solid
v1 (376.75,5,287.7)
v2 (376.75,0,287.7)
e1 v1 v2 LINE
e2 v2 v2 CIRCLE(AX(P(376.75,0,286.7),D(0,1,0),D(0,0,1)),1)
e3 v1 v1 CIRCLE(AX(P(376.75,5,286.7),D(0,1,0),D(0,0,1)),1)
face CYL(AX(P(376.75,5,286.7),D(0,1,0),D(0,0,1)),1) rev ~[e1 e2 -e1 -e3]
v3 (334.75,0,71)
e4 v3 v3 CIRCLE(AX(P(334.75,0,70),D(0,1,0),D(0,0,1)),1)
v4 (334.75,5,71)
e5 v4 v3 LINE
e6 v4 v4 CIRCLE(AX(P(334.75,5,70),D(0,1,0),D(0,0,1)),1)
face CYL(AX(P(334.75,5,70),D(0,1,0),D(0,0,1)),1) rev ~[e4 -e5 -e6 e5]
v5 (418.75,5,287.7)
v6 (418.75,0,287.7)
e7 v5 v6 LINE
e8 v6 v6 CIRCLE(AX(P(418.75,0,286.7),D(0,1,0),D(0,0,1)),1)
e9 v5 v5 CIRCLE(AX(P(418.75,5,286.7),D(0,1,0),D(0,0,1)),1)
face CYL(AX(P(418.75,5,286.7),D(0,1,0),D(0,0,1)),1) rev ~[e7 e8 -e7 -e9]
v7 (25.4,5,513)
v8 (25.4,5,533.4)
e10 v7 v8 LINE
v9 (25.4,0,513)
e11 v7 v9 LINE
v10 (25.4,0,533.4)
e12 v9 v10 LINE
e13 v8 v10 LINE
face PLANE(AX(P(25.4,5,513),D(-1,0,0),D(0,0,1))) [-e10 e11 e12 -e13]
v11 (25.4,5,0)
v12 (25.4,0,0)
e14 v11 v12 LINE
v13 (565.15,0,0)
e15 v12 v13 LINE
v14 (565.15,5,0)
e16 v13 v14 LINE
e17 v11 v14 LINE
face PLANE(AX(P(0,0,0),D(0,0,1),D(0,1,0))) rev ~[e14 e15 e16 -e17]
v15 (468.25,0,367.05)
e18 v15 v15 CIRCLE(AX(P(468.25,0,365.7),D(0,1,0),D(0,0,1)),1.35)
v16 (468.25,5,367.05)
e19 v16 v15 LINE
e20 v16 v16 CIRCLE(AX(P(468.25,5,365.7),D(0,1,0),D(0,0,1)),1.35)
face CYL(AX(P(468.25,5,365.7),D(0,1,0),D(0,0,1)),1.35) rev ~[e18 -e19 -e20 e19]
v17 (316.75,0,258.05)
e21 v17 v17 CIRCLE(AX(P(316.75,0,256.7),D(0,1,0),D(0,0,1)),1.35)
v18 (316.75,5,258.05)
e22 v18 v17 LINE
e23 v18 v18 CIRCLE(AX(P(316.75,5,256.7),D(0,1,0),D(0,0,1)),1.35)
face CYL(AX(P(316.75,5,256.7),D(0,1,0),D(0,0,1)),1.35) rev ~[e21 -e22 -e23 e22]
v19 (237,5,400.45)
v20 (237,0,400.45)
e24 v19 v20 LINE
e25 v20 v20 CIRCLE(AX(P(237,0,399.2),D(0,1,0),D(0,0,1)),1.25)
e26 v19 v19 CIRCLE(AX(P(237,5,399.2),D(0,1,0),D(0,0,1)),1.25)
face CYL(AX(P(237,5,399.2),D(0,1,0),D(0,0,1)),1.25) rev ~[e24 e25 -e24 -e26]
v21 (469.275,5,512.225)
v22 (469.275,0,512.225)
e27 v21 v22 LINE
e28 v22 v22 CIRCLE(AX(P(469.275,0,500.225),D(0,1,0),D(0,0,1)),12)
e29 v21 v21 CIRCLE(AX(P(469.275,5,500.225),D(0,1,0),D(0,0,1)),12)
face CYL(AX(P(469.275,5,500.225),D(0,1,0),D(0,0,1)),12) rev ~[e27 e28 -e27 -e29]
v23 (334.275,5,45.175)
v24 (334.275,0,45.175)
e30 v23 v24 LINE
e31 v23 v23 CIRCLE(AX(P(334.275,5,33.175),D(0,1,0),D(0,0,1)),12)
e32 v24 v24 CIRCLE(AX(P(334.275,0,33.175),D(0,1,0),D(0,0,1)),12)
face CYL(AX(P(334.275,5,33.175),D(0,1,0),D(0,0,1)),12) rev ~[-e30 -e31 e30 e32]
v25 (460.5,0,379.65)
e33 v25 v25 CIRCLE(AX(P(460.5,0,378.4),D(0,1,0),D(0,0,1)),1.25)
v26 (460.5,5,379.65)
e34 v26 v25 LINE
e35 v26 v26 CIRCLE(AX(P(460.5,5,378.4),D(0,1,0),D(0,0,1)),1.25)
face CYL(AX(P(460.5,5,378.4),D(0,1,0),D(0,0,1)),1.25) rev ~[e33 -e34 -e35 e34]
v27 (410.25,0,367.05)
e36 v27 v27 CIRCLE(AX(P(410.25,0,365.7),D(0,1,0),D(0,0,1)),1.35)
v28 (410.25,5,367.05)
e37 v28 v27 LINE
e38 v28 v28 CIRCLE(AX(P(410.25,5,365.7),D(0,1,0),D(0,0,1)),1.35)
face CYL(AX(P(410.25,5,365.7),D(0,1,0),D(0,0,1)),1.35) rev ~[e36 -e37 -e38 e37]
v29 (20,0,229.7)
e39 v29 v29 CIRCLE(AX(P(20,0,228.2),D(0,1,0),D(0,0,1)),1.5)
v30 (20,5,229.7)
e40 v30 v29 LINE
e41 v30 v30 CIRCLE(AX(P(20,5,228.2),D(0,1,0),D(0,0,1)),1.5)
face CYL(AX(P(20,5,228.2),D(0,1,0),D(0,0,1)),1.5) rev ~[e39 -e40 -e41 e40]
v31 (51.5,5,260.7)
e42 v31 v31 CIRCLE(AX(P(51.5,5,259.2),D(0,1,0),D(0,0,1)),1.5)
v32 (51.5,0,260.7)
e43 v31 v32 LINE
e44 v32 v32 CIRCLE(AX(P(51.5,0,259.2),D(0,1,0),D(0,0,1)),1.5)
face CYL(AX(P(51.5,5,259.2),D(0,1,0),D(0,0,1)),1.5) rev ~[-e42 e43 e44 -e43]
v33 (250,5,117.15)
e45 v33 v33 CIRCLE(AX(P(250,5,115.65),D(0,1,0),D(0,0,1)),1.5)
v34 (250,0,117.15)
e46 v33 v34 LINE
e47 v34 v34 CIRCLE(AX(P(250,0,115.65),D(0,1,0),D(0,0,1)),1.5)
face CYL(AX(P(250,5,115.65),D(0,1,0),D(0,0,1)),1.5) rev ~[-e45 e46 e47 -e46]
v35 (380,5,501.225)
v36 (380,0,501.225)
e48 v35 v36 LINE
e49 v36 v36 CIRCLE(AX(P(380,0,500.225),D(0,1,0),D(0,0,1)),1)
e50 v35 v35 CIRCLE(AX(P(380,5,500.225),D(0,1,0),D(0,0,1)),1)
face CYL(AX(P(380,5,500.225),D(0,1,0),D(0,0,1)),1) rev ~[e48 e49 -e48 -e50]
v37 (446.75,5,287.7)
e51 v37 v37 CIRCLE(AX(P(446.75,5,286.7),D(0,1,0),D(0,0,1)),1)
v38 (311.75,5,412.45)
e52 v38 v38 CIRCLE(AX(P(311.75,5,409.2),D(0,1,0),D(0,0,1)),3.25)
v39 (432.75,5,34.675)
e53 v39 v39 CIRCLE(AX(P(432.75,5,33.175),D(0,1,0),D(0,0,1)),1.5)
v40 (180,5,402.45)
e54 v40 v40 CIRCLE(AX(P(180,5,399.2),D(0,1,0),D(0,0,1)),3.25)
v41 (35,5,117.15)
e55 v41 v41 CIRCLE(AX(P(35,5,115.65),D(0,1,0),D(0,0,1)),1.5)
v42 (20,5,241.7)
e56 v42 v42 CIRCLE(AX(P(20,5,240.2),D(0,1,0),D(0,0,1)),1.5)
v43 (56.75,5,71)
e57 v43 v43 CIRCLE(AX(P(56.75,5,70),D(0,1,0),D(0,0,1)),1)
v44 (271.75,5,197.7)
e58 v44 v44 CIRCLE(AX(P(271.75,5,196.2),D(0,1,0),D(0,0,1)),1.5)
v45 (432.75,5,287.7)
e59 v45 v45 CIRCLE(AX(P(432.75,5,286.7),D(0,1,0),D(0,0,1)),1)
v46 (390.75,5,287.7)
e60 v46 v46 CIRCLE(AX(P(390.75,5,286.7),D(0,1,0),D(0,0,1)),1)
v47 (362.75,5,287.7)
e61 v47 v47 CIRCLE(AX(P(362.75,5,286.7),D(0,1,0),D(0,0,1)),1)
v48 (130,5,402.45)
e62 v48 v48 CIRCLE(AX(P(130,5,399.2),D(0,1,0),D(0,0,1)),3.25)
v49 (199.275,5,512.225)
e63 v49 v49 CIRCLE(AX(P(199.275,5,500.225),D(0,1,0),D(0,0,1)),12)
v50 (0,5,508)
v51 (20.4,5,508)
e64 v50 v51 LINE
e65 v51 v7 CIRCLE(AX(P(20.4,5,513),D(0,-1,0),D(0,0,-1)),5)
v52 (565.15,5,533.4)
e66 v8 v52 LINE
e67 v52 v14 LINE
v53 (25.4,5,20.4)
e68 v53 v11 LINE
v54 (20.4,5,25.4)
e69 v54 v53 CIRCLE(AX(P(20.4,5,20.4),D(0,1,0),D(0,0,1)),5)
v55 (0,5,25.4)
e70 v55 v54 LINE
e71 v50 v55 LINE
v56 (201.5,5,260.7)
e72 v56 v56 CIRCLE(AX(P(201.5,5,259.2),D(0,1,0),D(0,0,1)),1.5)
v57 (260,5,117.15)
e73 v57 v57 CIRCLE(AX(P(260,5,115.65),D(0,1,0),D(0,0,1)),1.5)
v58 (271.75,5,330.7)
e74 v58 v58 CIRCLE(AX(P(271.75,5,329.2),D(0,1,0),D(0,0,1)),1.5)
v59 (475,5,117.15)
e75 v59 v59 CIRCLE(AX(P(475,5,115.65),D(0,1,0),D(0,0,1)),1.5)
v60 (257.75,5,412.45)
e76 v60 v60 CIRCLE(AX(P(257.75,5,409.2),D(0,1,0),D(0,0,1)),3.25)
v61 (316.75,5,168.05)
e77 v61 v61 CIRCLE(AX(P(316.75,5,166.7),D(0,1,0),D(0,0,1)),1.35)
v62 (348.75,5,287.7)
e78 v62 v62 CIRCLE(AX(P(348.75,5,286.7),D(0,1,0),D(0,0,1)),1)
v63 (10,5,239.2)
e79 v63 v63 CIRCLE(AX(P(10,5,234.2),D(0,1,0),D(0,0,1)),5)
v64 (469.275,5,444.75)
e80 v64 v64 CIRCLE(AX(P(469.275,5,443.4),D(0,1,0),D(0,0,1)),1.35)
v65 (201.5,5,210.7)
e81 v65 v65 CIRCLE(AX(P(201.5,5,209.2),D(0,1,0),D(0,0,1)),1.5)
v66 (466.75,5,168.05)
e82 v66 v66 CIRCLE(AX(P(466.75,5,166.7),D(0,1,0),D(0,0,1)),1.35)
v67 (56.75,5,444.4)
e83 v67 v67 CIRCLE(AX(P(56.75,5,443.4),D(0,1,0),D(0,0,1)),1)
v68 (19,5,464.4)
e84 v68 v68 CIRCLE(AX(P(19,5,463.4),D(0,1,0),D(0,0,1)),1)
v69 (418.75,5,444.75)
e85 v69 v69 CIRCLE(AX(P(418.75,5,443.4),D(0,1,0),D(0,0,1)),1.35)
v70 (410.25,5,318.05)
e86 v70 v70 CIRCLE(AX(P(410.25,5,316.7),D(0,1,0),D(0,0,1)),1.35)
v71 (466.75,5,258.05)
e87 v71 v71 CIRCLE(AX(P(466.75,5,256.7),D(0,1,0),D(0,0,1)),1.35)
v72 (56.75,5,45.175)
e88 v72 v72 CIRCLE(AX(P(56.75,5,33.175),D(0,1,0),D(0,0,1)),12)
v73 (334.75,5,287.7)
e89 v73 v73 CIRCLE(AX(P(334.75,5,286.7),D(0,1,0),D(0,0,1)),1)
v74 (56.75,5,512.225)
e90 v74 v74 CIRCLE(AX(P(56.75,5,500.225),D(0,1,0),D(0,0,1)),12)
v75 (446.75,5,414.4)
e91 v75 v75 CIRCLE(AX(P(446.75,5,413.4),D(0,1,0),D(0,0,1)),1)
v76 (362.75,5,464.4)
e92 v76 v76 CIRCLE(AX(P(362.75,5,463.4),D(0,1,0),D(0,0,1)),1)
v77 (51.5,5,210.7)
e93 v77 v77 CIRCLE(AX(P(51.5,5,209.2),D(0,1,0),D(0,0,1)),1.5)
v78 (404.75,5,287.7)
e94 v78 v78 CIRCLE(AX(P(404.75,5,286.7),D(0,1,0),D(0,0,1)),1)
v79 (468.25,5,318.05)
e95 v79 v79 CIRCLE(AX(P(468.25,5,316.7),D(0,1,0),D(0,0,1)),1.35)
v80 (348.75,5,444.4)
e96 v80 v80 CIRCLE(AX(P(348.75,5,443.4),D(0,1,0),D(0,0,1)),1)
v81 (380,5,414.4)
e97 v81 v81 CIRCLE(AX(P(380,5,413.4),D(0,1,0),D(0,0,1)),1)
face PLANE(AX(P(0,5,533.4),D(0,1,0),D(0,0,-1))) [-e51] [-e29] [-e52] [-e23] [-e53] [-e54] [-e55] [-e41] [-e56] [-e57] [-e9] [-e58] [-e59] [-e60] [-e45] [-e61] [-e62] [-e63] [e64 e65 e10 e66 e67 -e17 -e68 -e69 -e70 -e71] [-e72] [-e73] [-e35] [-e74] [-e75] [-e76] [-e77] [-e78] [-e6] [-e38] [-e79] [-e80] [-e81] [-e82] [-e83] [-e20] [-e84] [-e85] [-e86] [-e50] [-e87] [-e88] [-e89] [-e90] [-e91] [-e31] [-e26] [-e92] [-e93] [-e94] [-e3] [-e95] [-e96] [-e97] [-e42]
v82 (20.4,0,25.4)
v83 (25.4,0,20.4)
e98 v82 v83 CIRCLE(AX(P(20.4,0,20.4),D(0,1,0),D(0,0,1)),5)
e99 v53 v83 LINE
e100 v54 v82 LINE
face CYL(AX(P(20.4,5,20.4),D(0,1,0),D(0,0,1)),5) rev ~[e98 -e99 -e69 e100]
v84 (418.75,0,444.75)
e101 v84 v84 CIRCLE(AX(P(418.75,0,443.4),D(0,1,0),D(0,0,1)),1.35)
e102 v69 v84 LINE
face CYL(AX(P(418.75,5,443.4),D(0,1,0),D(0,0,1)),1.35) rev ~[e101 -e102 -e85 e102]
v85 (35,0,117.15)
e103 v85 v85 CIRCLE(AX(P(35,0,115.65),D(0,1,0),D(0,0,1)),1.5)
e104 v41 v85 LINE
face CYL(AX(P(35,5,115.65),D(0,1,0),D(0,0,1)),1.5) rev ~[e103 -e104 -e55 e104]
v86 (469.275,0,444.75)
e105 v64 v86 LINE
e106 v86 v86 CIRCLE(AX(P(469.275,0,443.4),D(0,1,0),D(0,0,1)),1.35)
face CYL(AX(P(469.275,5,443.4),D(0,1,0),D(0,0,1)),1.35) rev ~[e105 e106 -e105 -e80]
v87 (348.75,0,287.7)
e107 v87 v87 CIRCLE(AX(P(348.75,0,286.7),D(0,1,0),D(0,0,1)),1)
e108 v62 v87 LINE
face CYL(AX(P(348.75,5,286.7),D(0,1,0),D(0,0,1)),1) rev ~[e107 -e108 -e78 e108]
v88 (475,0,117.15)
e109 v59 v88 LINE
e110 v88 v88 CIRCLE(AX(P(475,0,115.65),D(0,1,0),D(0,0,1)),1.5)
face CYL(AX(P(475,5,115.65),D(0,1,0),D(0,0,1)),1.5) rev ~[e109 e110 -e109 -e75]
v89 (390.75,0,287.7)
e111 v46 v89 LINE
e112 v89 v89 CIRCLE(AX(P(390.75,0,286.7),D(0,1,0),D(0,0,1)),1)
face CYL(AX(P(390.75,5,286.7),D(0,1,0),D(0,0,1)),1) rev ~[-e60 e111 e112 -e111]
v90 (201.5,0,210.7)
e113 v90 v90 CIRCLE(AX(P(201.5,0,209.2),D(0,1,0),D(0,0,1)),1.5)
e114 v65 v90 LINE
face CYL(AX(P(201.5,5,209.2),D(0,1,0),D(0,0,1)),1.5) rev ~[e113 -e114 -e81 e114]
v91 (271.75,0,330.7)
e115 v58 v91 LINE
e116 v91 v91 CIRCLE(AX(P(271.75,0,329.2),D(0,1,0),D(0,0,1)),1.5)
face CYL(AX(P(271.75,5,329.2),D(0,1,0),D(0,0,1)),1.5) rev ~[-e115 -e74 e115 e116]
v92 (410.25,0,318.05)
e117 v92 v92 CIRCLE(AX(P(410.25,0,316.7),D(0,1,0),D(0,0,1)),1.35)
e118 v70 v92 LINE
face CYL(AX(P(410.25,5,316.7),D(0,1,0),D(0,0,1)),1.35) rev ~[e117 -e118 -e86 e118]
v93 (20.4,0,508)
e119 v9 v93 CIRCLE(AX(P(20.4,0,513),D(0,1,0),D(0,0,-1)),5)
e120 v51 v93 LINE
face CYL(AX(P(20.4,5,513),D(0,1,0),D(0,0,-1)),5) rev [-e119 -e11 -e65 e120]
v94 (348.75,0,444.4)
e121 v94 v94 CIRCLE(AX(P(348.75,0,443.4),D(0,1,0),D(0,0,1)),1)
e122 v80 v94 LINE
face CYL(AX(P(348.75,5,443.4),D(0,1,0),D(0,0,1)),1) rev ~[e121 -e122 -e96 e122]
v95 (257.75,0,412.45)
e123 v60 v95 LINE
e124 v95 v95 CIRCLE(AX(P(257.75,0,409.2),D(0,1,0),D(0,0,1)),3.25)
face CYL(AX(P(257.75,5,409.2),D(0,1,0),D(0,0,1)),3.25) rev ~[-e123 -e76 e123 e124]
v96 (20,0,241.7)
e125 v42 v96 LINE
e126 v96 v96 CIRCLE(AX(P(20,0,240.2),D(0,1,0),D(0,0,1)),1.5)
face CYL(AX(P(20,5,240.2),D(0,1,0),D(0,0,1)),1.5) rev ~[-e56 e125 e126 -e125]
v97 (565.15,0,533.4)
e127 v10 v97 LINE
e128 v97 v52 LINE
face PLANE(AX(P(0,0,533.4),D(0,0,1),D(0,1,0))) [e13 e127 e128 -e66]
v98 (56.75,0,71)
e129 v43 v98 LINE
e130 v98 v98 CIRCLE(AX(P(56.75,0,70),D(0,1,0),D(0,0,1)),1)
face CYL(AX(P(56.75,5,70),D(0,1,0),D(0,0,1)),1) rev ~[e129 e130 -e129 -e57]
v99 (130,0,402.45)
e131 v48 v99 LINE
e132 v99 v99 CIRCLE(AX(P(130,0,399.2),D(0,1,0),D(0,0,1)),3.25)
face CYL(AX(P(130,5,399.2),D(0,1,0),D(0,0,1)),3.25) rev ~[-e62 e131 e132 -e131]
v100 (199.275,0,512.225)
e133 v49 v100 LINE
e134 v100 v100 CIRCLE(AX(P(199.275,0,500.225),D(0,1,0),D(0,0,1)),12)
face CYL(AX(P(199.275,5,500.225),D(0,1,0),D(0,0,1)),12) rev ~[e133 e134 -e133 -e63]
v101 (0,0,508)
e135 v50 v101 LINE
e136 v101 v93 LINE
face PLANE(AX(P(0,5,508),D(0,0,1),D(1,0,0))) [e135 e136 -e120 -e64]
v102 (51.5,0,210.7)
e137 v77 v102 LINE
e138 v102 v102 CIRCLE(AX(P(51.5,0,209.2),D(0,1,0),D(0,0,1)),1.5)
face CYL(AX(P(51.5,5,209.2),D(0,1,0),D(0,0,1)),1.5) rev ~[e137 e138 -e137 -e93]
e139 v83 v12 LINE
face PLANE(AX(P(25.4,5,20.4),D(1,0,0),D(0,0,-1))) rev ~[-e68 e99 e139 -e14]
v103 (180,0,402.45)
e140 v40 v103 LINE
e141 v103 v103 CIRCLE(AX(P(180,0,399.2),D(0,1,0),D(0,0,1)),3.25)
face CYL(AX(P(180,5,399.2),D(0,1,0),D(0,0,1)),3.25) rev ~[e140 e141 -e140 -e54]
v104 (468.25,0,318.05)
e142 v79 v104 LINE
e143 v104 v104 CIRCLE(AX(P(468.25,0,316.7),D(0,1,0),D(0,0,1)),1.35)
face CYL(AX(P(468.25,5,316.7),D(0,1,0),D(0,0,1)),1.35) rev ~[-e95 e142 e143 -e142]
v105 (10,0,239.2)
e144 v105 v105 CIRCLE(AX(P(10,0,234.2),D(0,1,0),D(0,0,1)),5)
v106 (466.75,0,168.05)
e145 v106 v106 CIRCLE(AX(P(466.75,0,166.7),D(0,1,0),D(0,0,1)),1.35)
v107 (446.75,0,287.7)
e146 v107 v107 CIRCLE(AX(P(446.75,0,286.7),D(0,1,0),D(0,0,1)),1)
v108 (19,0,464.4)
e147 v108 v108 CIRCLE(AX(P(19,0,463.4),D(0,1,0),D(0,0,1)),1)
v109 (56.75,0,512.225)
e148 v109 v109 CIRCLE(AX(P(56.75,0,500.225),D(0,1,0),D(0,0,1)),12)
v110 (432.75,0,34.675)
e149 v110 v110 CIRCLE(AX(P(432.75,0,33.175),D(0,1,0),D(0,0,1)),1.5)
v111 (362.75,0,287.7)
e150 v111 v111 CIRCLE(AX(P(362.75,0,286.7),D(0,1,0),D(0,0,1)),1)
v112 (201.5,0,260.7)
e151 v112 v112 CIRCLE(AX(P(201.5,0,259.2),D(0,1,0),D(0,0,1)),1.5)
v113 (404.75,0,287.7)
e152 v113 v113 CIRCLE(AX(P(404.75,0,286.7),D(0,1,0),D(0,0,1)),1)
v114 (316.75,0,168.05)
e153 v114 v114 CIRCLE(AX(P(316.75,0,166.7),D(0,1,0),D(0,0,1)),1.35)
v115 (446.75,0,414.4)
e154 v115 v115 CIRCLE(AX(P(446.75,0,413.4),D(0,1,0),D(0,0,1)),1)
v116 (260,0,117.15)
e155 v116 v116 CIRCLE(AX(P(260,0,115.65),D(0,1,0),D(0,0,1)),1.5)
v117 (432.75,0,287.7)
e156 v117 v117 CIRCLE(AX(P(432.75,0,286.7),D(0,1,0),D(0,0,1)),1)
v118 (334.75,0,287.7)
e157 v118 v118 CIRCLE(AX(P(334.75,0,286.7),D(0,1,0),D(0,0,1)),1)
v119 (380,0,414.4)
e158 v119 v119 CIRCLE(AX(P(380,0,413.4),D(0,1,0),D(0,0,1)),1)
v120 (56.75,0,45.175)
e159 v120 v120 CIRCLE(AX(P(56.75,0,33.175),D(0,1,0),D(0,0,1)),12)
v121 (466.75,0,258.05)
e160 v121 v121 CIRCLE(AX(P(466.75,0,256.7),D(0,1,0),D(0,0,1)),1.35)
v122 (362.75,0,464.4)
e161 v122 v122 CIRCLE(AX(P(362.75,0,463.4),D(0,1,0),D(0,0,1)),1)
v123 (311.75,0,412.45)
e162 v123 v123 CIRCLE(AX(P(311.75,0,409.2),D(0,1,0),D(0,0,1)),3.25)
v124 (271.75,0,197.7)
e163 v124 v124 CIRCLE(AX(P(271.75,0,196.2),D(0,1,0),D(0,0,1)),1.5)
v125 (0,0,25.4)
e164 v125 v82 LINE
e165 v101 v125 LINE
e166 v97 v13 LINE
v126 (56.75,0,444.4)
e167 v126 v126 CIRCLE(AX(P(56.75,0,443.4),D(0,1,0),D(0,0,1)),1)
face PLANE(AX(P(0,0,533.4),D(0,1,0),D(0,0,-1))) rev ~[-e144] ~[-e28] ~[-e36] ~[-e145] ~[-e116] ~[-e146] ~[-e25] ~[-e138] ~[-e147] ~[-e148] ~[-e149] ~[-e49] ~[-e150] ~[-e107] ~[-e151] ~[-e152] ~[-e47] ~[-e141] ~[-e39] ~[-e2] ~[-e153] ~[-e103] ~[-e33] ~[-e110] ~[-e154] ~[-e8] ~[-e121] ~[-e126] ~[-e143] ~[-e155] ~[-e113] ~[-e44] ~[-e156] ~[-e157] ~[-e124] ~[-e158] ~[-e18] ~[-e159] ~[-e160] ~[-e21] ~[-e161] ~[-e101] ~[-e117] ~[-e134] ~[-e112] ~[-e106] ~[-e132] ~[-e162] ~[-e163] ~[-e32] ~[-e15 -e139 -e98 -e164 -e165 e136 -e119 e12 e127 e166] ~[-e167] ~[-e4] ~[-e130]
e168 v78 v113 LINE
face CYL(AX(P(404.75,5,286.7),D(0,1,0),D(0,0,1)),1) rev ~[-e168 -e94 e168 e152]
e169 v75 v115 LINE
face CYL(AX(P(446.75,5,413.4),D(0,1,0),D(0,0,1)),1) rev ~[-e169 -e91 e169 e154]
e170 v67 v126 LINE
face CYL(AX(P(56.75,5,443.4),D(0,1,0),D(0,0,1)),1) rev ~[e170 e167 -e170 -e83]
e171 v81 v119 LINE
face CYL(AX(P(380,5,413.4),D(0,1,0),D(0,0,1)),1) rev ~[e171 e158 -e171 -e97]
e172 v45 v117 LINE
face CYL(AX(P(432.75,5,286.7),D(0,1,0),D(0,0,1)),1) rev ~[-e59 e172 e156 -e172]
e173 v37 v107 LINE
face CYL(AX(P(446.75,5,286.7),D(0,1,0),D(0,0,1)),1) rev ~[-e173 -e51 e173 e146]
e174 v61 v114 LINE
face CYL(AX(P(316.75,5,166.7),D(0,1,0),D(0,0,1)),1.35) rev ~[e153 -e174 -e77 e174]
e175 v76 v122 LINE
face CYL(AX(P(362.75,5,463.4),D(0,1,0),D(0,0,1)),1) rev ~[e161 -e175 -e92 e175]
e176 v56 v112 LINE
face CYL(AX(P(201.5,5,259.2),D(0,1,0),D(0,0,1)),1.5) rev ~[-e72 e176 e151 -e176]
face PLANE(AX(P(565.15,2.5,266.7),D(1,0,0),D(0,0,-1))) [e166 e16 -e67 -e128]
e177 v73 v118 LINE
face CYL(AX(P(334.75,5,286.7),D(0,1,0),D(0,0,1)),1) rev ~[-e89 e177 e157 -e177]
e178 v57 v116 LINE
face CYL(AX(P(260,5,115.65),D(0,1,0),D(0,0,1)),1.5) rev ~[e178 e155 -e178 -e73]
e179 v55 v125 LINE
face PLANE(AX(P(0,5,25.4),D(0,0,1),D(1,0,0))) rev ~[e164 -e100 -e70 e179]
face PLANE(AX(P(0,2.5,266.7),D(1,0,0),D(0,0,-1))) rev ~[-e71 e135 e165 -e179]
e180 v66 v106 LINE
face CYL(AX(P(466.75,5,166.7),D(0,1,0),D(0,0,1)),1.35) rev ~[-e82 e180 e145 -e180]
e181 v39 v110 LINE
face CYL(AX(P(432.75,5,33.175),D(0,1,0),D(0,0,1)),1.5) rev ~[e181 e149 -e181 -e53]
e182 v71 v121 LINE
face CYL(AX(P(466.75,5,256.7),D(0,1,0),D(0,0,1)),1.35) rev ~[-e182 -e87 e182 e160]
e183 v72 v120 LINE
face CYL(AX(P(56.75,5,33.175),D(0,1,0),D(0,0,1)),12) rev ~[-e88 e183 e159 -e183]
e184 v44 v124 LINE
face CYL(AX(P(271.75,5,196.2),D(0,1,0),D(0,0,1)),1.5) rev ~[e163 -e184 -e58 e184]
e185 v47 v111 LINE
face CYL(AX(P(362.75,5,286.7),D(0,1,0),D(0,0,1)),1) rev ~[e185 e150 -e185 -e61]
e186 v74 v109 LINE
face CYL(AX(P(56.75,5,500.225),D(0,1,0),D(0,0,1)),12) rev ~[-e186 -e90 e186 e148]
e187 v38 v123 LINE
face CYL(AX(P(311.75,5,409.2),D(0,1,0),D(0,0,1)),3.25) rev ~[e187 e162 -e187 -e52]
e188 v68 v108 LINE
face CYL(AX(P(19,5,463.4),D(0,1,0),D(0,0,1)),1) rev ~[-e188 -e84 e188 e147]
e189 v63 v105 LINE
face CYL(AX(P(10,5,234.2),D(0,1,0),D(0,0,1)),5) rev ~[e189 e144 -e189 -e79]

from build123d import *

# Parameters (mm, degrees)
SKETCH1_W                                     = 533.4
SKETCH1_H                                     = 5
BOSS_EXTRUDE1_DEPTH                           = 565.15
BOTTHOMHOLES_SKETCH2_R                        = 12
BOTTOMSTEPPERHOLES_CUT_EXTRUDE1_DEPTH         = 778.132602906
BOTTOMPSUHOLESSKETCH2_R                       = 1.5
BOTTOMPSUHOLESSKETCH2_R_2                     = 3.25
BOTTOMPSUHOLESCUT_EXTRUDE1_DEPTH              = 778.132602906
OCTOPUSHOLESSKETCH2_R                         = 1.35
OCTOPUSMOUNTHOLESCUT_EXTRUDE1_DEPTH           = 778.132602906
POWRCABLEGUIDEMOUNTHOLESSKETCH2_R             = 1.5
POWERCABLEGUIDEMOUNTHOLESCUT_EXTRUDE1_DEPTH   = 778.132602906
RPIHOLESSKETCH2_R                             = 1.35
RPIMOUNTHOLESCUT_EXTRUDE1_DEPTH               = 778.132602906
DRAGCHAINANDCABLEGUIDEHOLESSKETCH2_R          = 1.5
DRAGCHAINANDCABLEGUIDEHOLESSKETCH2_R_2        = 5
CRAGCHAINANDCABLEGUIDEHOLESCUT_EXTRUDE1_DEPTH = 778.132602906
SKETCH2_R                                     = 1
OCTOPUSROUTING_HOLESCUT_EXTRUDE1_DEPTH        = 778.132602906
PIPOWERANDSSRCONTROLSKETCH3_R                 = 1.25
PIPOWERANDSSRCONTROLCUTS_EXTRUDE1_DEPTH       = 778.132602906
CORNERCABLEKNOTCHCUT_EXTRUDE1_DEPTH           = 778.132602906
Z1_PATHSSKETCH4_R                             = 1.5
Z1_PATGSCUT_EXTRUDE1_DEPTH                    = 778.132602906
Z2PATHSSKETCH5_R                              = 1
Z2PATHSCUT_EXTRUDE2_DEPTH                     = 778.132602906
ZPATHSSKETCH4_R                               = 1.35
ZPATHSCUT_EXTRUDE1_DEPTH                      = 778.132602906
LEFTGANTRYANDEXTRUDERPATHSSKETCH4_R           = 1
LEFTGANTRYANDEXTRUDERPATHSCUT_EXTRUDE1_DEPTH  = 778.132602906
RIGHTGANTRYPATHSSKETCH5_R                     = 1
RIGHTGANTRYPATHSCUT_EXTRUDE2_DEPTH            = 778.132602906


with BuildPart() as part:
    # Sketch1 → Boss-Extrude1 (new body)
    with BuildSketch(Plane(origin=(0, 0, 0), x_dir=(0, 0, -1), z_dir=(1, 0, 0))):
        with Locations((-266.7, 2.5)):
            Rectangle(SKETCH1_W, SKETCH1_H)
    extrude(amount=BOSS_EXTRUDE1_DEPTH)

    # BotthomHoles-Sketch2 → BottomStepperHoles-Cut-Extrude1 (cut, through all)
    with BuildSketch(Plane(origin=(0, 5, 0), x_dir=(1, 0, 0), z_dir=(0, 1, 0))):
        with Locations(Location((334.275, -33.175, 0), (0, 0, 270))):
            Circle(BOTTHOMHOLES_SKETCH2_R)
        with Locations(Location((199.275, -500.225, 0), (0, 0, 270))):
            Circle(BOTTHOMHOLES_SKETCH2_R)
        with Locations(Location((469.275, -500.225, 0), (0, 0, 270))):
            Circle(BOTTHOMHOLES_SKETCH2_R)
        with Locations(Location((56.75, -500.225, 0), (0, 0, 270))):
            Circle(BOTTHOMHOLES_SKETCH2_R)
        with Locations(Location((56.75, -33.175, 0), (0, 0, 270))):
            Circle(BOTTHOMHOLES_SKETCH2_R)
    extrude(amount=-BOTTOMSTEPPERHOLES_CUT_EXTRUDE1_DEPTH, mode=Mode.SUBTRACT)

    # BottomPSUHolesSketch2 → BottomPSUHolesCut-Extrude1 (cut, through all)
    with BuildSketch(Plane(origin=(0, 5, 0), x_dir=(1, 0, 0), z_dir=(0, 1, 0))):
        with Locations(Location((201.5, -209.2, 0), (0, 0, 270))):
            Circle(BOTTOMPSUHOLESSKETCH2_R)
        with Locations(Location((201.5, -259.2, 0), (0, 0, 270))):
            Circle(BOTTOMPSUHOLESSKETCH2_R)
        with Locations(Location((51.5, -209.2, 0), (0, 0, 270))):
            Circle(BOTTOMPSUHOLESSKETCH2_R)
        with Locations(Location((51.5, -259.2, 0), (0, 0, 270))):
            Circle(BOTTOMPSUHOLESSKETCH2_R)
        with Locations(Location((180, -399.2, 0), (0, 0, 270))):
            Circle(BOTTOMPSUHOLESSKETCH2_R_2)
        with Locations(Location((130, -399.2, 0), (0, 0, 270))):
            Circle(BOTTOMPSUHOLESSKETCH2_R_2)
        with Locations(Location((257.75, -409.2, 0), (0, 0, 270))):
            Circle(BOTTOMPSUHOLESSKETCH2_R_2)
        with Locations(Location((311.75, -409.2, 0), (0, 0, 270))):
            Circle(BOTTOMPSUHOLESSKETCH2_R_2)
    extrude(amount=-BOTTOMPSUHOLESCUT_EXTRUDE1_DEPTH, mode=Mode.SUBTRACT)

    # OctopusHolesSketch2 → OctopusMountHolesCut-Extrude1 (cut, through all)
    with BuildSketch(Plane(origin=(0, 5, 0), x_dir=(1, 0, 0), z_dir=(0, 1, 0))):
        with Locations(Location((316.75, -256.7, 0), (0, 0, 270))):
            Circle(OCTOPUSHOLESSKETCH2_R)
        with Locations(Location((466.75, -256.7, 0), (0, 0, 270))):
            Circle(OCTOPUSHOLESSKETCH2_R)
        with Locations(Location((316.75, -166.7, 0), (0, 0, 270))):
            Circle(OCTOPUSHOLESSKETCH2_R)
        with Locations(Location((466.75, -166.7, 0), (0, 0, 270))):
            Circle(OCTOPUSHOLESSKETCH2_R)
    extrude(amount=-OCTOPUSMOUNTHOLESCUT_EXTRUDE1_DEPTH, mode=Mode.SUBTRACT)

    # PowrCableGuideMountHolesSketch2 → PowerCableGuideMountHolesCut-Extrude1 (cut, through all)
    with BuildSketch(Plane(origin=(0, 5, 0), x_dir=(1, 0, 0), z_dir=(0, 1, 0))):
        with Locations(Location((271.75, -329.2, 0), (0, 0, 270))):
            Circle(POWRCABLEGUIDEMOUNTHOLESSKETCH2_R)
        with Locations(Location((271.75, -196.2, 0), (0, 0, 270))):
            Circle(POWRCABLEGUIDEMOUNTHOLESSKETCH2_R)
    extrude(amount=-POWERCABLEGUIDEMOUNTHOLESCUT_EXTRUDE1_DEPTH, mode=Mode.SUBTRACT)

    # RPIHolesSketch2 → RPIMountHolesCut-Extrude1 (cut, through all)
    with BuildSketch(Plane(origin=(0, 5, 0), x_dir=(1, 0, 0), z_dir=(0, 1, 0))):
        with Locations(Location((468.25, -316.7, 0), (0, 0, 270))):
            Circle(RPIHOLESSKETCH2_R)
        with Locations(Location((468.25, -365.7, 0), (0, 0, 270))):
            Circle(RPIHOLESSKETCH2_R)
        with Locations(Location((410.25, -316.7, 0), (0, 0, 270))):
            Circle(RPIHOLESSKETCH2_R)
        with Locations(Location((410.25, -365.7, 0), (0, 0, 270))):
            Circle(RPIHOLESSKETCH2_R)
    extrude(amount=-RPIMOUNTHOLESCUT_EXTRUDE1_DEPTH, mode=Mode.SUBTRACT)

    # DragChainAndCableGuideHolesSketch2 → CragChainAndCableGuideHolesCut-Extrude1 (cut, through all)
    with BuildSketch(Plane(origin=(0, 5, 0), x_dir=(1, 0, 0), z_dir=(0, 1, 0))):
        with Locations(Location((260, -115.65, 0), (0, 0, 270))):
            Circle(DRAGCHAINANDCABLEGUIDEHOLESSKETCH2_R)
        with Locations(Location((10, -234.2, 0), (0, 0, 270))):
            Circle(DRAGCHAINANDCABLEGUIDEHOLESSKETCH2_R_2)
        with Locations(Location((475, -115.65, 0), (0, 0, 270))):
            Circle(DRAGCHAINANDCABLEGUIDEHOLESSKETCH2_R)
        with Locations(Location((250, -115.65, 0), (0, 0, 270))):
            Circle(DRAGCHAINANDCABLEGUIDEHOLESSKETCH2_R)
        with Locations(Location((35, -115.65, 0), (0, 0, 270))):
            Circle(DRAGCHAINANDCABLEGUIDEHOLESSKETCH2_R)
        with Locations(Location((20, -240.2, 0), (0, 0, 270))):
            Circle(DRAGCHAINANDCABLEGUIDEHOLESSKETCH2_R)
        with Locations(Location((20, -228.2, 0), (0, 0, 270))):
            Circle(DRAGCHAINANDCABLEGUIDEHOLESSKETCH2_R)
    extrude(amount=-CRAGCHAINANDCABLEGUIDEHOLESCUT_EXTRUDE1_DEPTH, mode=Mode.SUBTRACT)

    # Sketch2 → OctopusRouting holesCut-Extrude1 (cut, through all)
    with BuildSketch(Plane(origin=(0, 5, 0), x_dir=(1, 0, 0), z_dir=(0, 1, 0))):
        with Locations(Location((334.75, -286.7, 0), (0, 0, 270))):
            Circle(SKETCH2_R)
        with Locations(Location((348.75, -286.7, 0), (0, 0, 270))):
            Circle(SKETCH2_R)
        with Locations(Location((362.75, -286.7, 0), (0, 0, 270))):
            Circle(SKETCH2_R)
        with Locations(Location((376.75, -286.7, 0), (0, 0, 270))):
            Circle(SKETCH2_R)
        with Locations(Location((390.75, -286.7, 0), (0, 0, 270))):
            Circle(SKETCH2_R)
        with Locations(Location((404.75, -286.7, 0), (0, 0, 270))):
            Circle(SKETCH2_R)
        with Locations(Location((418.75, -286.7, 0), (0, 0, 270))):
            Circle(SKETCH2_R)
        with Locations(Location((432.75, -286.7, 0), (0, 0, 270))):
            Circle(SKETCH2_R)
        with Locations(Location((446.75, -286.7, 0), (0, 0, 270))):
            Circle(SKETCH2_R)
    extrude(amount=-OCTOPUSROUTING_HOLESCUT_EXTRUDE1_DEPTH, mode=Mode.SUBTRACT)

    # PiPowerAndSSRControlSketch3 → PiPowerAndSSRControlCuts-Extrude1 (cut, through all)
    with BuildSketch(Plane(origin=(0, 5, 0), x_dir=(1, 0, 0), z_dir=(0, 1, 0))):
        with Locations(Location((237, -399.2, 0), (0, 0, 270))):
            Circle(PIPOWERANDSSRCONTROLSKETCH3_R)
        with Locations(Location((460.5, -378.4, 0), (0, 0, 270))):
            Circle(PIPOWERANDSSRCONTROLSKETCH3_R)
    extrude(amount=-PIPOWERANDSSRCONTROLCUTS_EXTRUDE1_DEPTH, mode=Mode.SUBTRACT)

    # CornerCableKnotchesSketch4 → CornerCableKnotchCut-Extrude1 (cut, through all)
    with BuildSketch(Plane(origin=(0, 5, 0), x_dir=(1, 0, 0), z_dir=(0, 1, 0))):
        with BuildLine():
            Line((0, -25.4), (20.4, -25.4))
            ThreePointArc((20.4, -25.4), (23.935533906, -23.935533906), (25.4, -20.4))
            Line((25.4, -20.4), (25.4, 0))
            Line((25.4, 0), (0, 0))
            Line((0, 0), (0, -25.4))
        make_face()
        with BuildLine():
            Line((0, -508), (20.4, -508))
            ThreePointArc((20.4, -508), (23.935533906, -509.464466094), (25.4, -513))
            Line((25.4, -513), (25.4, -533.4))
            Line((25.4, -533.4), (0, -533.4))
            Line((0, -533.4), (0, -508))
        make_face()
    extrude(amount=-CORNERCABLEKNOTCHCUT_EXTRUDE1_DEPTH, mode=Mode.SUBTRACT)

    # Z1 pathsSketch4 → Z1 patgsCut-Extrude1 (cut, through all)
    with BuildSketch(Plane(origin=(0, 5, 0), x_dir=(1, 0, 0), z_dir=(0, 1, 0))):
        with Locations(Location((432.75, -33.175, 0), (0, 0, 270))):
            Circle(Z1_PATHSSKETCH4_R)
    extrude(amount=-Z1_PATGSCUT_EXTRUDE1_DEPTH, mode=Mode.SUBTRACT)

    # Z2PathsSketch5 → Z2PathsCut-Extrude2 (cut, through all)
    with BuildSketch(Plane(origin=(0, 5, 0), x_dir=(1, 0, 0), z_dir=(0, 1, 0))):
        with Locations(Location((380, -500.225, 0), (0, 0, 270))):
            Circle(Z2PATHSSKETCH5_R)
        with Locations(Location((380, -413.4, 0), (0, 0, 270))):
            Circle(Z2PATHSSKETCH5_R)
        with Locations(Location((446.75, -413.4, 0), (0, 0, 270))):
            Circle(Z2PATHSSKETCH5_R)
    extrude(amount=-Z2PATHSCUT_EXTRUDE2_DEPTH, mode=Mode.SUBTRACT)

    # ZPathsSketch4 → ZPathsCut-Extrude1 (cut, through all)
    with BuildSketch(Plane(origin=(0, 5, 0), x_dir=(1, 0, 0), z_dir=(0, 1, 0))):
        with Locations(Location((469.275, -443.4, 0), (0, 0, 270))):
            Circle(ZPATHSSKETCH4_R)
        with Locations(Location((418.75, -443.4, 0), (0, 0, 270))):
            Circle(ZPATHSSKETCH4_R)
    extrude(amount=-ZPATHSCUT_EXTRUDE1_DEPTH, mode=Mode.SUBTRACT)

    # LeftGantryAndExtruderPathsSketch4 → LeftGantryAndExtruderPathsCut-Extrude1 (cut, through all)
    with BuildSketch(Plane(origin=(0, 5, 0), x_dir=(1, 0, 0), z_dir=(0, 1, 0))):
        with Locations(Location((348.75, -443.4, 0), (0, 0, 270))):
            Circle(LEFTGANTRYANDEXTRUDERPATHSSKETCH4_R)
        with Locations(Location((362.75, -463.4, 0), (0, 0, 270))):
            Circle(LEFTGANTRYANDEXTRUDERPATHSSKETCH4_R)
        with Locations(Location((56.75, -443.4, 0), (0, 0, 270))):
            Circle(LEFTGANTRYANDEXTRUDERPATHSSKETCH4_R)
        with Locations(Location((19, -463.4, 0), (0, 0, 270))):
            Circle(LEFTGANTRYANDEXTRUDERPATHSSKETCH4_R)
    extrude(amount=-LEFTGANTRYANDEXTRUDERPATHSCUT_EXTRUDE1_DEPTH, mode=Mode.SUBTRACT)

    # RightGantryPathsSketch5 → RightGantryPathsCut-Extrude2 (cut, through all)
    with BuildSketch(Plane(origin=(0, 5, 0), x_dir=(1, 0, 0), z_dir=(0, 1, 0))):
        with Locations(Location((334.75, -70, 0), (0, 0, 270))):
            Circle(RIGHTGANTRYPATHSSKETCH5_R)
        with Locations(Location((56.75, -70, 0), (0, 0, 270))):
            Circle(RIGHTGANTRYPATHSSKETCH5_R)
    extrude(amount=-RIGHTGANTRYPATHSCUT_EXTRUDE2_DEPTH, mode=Mode.SUBTRACT)


solid = part.part
